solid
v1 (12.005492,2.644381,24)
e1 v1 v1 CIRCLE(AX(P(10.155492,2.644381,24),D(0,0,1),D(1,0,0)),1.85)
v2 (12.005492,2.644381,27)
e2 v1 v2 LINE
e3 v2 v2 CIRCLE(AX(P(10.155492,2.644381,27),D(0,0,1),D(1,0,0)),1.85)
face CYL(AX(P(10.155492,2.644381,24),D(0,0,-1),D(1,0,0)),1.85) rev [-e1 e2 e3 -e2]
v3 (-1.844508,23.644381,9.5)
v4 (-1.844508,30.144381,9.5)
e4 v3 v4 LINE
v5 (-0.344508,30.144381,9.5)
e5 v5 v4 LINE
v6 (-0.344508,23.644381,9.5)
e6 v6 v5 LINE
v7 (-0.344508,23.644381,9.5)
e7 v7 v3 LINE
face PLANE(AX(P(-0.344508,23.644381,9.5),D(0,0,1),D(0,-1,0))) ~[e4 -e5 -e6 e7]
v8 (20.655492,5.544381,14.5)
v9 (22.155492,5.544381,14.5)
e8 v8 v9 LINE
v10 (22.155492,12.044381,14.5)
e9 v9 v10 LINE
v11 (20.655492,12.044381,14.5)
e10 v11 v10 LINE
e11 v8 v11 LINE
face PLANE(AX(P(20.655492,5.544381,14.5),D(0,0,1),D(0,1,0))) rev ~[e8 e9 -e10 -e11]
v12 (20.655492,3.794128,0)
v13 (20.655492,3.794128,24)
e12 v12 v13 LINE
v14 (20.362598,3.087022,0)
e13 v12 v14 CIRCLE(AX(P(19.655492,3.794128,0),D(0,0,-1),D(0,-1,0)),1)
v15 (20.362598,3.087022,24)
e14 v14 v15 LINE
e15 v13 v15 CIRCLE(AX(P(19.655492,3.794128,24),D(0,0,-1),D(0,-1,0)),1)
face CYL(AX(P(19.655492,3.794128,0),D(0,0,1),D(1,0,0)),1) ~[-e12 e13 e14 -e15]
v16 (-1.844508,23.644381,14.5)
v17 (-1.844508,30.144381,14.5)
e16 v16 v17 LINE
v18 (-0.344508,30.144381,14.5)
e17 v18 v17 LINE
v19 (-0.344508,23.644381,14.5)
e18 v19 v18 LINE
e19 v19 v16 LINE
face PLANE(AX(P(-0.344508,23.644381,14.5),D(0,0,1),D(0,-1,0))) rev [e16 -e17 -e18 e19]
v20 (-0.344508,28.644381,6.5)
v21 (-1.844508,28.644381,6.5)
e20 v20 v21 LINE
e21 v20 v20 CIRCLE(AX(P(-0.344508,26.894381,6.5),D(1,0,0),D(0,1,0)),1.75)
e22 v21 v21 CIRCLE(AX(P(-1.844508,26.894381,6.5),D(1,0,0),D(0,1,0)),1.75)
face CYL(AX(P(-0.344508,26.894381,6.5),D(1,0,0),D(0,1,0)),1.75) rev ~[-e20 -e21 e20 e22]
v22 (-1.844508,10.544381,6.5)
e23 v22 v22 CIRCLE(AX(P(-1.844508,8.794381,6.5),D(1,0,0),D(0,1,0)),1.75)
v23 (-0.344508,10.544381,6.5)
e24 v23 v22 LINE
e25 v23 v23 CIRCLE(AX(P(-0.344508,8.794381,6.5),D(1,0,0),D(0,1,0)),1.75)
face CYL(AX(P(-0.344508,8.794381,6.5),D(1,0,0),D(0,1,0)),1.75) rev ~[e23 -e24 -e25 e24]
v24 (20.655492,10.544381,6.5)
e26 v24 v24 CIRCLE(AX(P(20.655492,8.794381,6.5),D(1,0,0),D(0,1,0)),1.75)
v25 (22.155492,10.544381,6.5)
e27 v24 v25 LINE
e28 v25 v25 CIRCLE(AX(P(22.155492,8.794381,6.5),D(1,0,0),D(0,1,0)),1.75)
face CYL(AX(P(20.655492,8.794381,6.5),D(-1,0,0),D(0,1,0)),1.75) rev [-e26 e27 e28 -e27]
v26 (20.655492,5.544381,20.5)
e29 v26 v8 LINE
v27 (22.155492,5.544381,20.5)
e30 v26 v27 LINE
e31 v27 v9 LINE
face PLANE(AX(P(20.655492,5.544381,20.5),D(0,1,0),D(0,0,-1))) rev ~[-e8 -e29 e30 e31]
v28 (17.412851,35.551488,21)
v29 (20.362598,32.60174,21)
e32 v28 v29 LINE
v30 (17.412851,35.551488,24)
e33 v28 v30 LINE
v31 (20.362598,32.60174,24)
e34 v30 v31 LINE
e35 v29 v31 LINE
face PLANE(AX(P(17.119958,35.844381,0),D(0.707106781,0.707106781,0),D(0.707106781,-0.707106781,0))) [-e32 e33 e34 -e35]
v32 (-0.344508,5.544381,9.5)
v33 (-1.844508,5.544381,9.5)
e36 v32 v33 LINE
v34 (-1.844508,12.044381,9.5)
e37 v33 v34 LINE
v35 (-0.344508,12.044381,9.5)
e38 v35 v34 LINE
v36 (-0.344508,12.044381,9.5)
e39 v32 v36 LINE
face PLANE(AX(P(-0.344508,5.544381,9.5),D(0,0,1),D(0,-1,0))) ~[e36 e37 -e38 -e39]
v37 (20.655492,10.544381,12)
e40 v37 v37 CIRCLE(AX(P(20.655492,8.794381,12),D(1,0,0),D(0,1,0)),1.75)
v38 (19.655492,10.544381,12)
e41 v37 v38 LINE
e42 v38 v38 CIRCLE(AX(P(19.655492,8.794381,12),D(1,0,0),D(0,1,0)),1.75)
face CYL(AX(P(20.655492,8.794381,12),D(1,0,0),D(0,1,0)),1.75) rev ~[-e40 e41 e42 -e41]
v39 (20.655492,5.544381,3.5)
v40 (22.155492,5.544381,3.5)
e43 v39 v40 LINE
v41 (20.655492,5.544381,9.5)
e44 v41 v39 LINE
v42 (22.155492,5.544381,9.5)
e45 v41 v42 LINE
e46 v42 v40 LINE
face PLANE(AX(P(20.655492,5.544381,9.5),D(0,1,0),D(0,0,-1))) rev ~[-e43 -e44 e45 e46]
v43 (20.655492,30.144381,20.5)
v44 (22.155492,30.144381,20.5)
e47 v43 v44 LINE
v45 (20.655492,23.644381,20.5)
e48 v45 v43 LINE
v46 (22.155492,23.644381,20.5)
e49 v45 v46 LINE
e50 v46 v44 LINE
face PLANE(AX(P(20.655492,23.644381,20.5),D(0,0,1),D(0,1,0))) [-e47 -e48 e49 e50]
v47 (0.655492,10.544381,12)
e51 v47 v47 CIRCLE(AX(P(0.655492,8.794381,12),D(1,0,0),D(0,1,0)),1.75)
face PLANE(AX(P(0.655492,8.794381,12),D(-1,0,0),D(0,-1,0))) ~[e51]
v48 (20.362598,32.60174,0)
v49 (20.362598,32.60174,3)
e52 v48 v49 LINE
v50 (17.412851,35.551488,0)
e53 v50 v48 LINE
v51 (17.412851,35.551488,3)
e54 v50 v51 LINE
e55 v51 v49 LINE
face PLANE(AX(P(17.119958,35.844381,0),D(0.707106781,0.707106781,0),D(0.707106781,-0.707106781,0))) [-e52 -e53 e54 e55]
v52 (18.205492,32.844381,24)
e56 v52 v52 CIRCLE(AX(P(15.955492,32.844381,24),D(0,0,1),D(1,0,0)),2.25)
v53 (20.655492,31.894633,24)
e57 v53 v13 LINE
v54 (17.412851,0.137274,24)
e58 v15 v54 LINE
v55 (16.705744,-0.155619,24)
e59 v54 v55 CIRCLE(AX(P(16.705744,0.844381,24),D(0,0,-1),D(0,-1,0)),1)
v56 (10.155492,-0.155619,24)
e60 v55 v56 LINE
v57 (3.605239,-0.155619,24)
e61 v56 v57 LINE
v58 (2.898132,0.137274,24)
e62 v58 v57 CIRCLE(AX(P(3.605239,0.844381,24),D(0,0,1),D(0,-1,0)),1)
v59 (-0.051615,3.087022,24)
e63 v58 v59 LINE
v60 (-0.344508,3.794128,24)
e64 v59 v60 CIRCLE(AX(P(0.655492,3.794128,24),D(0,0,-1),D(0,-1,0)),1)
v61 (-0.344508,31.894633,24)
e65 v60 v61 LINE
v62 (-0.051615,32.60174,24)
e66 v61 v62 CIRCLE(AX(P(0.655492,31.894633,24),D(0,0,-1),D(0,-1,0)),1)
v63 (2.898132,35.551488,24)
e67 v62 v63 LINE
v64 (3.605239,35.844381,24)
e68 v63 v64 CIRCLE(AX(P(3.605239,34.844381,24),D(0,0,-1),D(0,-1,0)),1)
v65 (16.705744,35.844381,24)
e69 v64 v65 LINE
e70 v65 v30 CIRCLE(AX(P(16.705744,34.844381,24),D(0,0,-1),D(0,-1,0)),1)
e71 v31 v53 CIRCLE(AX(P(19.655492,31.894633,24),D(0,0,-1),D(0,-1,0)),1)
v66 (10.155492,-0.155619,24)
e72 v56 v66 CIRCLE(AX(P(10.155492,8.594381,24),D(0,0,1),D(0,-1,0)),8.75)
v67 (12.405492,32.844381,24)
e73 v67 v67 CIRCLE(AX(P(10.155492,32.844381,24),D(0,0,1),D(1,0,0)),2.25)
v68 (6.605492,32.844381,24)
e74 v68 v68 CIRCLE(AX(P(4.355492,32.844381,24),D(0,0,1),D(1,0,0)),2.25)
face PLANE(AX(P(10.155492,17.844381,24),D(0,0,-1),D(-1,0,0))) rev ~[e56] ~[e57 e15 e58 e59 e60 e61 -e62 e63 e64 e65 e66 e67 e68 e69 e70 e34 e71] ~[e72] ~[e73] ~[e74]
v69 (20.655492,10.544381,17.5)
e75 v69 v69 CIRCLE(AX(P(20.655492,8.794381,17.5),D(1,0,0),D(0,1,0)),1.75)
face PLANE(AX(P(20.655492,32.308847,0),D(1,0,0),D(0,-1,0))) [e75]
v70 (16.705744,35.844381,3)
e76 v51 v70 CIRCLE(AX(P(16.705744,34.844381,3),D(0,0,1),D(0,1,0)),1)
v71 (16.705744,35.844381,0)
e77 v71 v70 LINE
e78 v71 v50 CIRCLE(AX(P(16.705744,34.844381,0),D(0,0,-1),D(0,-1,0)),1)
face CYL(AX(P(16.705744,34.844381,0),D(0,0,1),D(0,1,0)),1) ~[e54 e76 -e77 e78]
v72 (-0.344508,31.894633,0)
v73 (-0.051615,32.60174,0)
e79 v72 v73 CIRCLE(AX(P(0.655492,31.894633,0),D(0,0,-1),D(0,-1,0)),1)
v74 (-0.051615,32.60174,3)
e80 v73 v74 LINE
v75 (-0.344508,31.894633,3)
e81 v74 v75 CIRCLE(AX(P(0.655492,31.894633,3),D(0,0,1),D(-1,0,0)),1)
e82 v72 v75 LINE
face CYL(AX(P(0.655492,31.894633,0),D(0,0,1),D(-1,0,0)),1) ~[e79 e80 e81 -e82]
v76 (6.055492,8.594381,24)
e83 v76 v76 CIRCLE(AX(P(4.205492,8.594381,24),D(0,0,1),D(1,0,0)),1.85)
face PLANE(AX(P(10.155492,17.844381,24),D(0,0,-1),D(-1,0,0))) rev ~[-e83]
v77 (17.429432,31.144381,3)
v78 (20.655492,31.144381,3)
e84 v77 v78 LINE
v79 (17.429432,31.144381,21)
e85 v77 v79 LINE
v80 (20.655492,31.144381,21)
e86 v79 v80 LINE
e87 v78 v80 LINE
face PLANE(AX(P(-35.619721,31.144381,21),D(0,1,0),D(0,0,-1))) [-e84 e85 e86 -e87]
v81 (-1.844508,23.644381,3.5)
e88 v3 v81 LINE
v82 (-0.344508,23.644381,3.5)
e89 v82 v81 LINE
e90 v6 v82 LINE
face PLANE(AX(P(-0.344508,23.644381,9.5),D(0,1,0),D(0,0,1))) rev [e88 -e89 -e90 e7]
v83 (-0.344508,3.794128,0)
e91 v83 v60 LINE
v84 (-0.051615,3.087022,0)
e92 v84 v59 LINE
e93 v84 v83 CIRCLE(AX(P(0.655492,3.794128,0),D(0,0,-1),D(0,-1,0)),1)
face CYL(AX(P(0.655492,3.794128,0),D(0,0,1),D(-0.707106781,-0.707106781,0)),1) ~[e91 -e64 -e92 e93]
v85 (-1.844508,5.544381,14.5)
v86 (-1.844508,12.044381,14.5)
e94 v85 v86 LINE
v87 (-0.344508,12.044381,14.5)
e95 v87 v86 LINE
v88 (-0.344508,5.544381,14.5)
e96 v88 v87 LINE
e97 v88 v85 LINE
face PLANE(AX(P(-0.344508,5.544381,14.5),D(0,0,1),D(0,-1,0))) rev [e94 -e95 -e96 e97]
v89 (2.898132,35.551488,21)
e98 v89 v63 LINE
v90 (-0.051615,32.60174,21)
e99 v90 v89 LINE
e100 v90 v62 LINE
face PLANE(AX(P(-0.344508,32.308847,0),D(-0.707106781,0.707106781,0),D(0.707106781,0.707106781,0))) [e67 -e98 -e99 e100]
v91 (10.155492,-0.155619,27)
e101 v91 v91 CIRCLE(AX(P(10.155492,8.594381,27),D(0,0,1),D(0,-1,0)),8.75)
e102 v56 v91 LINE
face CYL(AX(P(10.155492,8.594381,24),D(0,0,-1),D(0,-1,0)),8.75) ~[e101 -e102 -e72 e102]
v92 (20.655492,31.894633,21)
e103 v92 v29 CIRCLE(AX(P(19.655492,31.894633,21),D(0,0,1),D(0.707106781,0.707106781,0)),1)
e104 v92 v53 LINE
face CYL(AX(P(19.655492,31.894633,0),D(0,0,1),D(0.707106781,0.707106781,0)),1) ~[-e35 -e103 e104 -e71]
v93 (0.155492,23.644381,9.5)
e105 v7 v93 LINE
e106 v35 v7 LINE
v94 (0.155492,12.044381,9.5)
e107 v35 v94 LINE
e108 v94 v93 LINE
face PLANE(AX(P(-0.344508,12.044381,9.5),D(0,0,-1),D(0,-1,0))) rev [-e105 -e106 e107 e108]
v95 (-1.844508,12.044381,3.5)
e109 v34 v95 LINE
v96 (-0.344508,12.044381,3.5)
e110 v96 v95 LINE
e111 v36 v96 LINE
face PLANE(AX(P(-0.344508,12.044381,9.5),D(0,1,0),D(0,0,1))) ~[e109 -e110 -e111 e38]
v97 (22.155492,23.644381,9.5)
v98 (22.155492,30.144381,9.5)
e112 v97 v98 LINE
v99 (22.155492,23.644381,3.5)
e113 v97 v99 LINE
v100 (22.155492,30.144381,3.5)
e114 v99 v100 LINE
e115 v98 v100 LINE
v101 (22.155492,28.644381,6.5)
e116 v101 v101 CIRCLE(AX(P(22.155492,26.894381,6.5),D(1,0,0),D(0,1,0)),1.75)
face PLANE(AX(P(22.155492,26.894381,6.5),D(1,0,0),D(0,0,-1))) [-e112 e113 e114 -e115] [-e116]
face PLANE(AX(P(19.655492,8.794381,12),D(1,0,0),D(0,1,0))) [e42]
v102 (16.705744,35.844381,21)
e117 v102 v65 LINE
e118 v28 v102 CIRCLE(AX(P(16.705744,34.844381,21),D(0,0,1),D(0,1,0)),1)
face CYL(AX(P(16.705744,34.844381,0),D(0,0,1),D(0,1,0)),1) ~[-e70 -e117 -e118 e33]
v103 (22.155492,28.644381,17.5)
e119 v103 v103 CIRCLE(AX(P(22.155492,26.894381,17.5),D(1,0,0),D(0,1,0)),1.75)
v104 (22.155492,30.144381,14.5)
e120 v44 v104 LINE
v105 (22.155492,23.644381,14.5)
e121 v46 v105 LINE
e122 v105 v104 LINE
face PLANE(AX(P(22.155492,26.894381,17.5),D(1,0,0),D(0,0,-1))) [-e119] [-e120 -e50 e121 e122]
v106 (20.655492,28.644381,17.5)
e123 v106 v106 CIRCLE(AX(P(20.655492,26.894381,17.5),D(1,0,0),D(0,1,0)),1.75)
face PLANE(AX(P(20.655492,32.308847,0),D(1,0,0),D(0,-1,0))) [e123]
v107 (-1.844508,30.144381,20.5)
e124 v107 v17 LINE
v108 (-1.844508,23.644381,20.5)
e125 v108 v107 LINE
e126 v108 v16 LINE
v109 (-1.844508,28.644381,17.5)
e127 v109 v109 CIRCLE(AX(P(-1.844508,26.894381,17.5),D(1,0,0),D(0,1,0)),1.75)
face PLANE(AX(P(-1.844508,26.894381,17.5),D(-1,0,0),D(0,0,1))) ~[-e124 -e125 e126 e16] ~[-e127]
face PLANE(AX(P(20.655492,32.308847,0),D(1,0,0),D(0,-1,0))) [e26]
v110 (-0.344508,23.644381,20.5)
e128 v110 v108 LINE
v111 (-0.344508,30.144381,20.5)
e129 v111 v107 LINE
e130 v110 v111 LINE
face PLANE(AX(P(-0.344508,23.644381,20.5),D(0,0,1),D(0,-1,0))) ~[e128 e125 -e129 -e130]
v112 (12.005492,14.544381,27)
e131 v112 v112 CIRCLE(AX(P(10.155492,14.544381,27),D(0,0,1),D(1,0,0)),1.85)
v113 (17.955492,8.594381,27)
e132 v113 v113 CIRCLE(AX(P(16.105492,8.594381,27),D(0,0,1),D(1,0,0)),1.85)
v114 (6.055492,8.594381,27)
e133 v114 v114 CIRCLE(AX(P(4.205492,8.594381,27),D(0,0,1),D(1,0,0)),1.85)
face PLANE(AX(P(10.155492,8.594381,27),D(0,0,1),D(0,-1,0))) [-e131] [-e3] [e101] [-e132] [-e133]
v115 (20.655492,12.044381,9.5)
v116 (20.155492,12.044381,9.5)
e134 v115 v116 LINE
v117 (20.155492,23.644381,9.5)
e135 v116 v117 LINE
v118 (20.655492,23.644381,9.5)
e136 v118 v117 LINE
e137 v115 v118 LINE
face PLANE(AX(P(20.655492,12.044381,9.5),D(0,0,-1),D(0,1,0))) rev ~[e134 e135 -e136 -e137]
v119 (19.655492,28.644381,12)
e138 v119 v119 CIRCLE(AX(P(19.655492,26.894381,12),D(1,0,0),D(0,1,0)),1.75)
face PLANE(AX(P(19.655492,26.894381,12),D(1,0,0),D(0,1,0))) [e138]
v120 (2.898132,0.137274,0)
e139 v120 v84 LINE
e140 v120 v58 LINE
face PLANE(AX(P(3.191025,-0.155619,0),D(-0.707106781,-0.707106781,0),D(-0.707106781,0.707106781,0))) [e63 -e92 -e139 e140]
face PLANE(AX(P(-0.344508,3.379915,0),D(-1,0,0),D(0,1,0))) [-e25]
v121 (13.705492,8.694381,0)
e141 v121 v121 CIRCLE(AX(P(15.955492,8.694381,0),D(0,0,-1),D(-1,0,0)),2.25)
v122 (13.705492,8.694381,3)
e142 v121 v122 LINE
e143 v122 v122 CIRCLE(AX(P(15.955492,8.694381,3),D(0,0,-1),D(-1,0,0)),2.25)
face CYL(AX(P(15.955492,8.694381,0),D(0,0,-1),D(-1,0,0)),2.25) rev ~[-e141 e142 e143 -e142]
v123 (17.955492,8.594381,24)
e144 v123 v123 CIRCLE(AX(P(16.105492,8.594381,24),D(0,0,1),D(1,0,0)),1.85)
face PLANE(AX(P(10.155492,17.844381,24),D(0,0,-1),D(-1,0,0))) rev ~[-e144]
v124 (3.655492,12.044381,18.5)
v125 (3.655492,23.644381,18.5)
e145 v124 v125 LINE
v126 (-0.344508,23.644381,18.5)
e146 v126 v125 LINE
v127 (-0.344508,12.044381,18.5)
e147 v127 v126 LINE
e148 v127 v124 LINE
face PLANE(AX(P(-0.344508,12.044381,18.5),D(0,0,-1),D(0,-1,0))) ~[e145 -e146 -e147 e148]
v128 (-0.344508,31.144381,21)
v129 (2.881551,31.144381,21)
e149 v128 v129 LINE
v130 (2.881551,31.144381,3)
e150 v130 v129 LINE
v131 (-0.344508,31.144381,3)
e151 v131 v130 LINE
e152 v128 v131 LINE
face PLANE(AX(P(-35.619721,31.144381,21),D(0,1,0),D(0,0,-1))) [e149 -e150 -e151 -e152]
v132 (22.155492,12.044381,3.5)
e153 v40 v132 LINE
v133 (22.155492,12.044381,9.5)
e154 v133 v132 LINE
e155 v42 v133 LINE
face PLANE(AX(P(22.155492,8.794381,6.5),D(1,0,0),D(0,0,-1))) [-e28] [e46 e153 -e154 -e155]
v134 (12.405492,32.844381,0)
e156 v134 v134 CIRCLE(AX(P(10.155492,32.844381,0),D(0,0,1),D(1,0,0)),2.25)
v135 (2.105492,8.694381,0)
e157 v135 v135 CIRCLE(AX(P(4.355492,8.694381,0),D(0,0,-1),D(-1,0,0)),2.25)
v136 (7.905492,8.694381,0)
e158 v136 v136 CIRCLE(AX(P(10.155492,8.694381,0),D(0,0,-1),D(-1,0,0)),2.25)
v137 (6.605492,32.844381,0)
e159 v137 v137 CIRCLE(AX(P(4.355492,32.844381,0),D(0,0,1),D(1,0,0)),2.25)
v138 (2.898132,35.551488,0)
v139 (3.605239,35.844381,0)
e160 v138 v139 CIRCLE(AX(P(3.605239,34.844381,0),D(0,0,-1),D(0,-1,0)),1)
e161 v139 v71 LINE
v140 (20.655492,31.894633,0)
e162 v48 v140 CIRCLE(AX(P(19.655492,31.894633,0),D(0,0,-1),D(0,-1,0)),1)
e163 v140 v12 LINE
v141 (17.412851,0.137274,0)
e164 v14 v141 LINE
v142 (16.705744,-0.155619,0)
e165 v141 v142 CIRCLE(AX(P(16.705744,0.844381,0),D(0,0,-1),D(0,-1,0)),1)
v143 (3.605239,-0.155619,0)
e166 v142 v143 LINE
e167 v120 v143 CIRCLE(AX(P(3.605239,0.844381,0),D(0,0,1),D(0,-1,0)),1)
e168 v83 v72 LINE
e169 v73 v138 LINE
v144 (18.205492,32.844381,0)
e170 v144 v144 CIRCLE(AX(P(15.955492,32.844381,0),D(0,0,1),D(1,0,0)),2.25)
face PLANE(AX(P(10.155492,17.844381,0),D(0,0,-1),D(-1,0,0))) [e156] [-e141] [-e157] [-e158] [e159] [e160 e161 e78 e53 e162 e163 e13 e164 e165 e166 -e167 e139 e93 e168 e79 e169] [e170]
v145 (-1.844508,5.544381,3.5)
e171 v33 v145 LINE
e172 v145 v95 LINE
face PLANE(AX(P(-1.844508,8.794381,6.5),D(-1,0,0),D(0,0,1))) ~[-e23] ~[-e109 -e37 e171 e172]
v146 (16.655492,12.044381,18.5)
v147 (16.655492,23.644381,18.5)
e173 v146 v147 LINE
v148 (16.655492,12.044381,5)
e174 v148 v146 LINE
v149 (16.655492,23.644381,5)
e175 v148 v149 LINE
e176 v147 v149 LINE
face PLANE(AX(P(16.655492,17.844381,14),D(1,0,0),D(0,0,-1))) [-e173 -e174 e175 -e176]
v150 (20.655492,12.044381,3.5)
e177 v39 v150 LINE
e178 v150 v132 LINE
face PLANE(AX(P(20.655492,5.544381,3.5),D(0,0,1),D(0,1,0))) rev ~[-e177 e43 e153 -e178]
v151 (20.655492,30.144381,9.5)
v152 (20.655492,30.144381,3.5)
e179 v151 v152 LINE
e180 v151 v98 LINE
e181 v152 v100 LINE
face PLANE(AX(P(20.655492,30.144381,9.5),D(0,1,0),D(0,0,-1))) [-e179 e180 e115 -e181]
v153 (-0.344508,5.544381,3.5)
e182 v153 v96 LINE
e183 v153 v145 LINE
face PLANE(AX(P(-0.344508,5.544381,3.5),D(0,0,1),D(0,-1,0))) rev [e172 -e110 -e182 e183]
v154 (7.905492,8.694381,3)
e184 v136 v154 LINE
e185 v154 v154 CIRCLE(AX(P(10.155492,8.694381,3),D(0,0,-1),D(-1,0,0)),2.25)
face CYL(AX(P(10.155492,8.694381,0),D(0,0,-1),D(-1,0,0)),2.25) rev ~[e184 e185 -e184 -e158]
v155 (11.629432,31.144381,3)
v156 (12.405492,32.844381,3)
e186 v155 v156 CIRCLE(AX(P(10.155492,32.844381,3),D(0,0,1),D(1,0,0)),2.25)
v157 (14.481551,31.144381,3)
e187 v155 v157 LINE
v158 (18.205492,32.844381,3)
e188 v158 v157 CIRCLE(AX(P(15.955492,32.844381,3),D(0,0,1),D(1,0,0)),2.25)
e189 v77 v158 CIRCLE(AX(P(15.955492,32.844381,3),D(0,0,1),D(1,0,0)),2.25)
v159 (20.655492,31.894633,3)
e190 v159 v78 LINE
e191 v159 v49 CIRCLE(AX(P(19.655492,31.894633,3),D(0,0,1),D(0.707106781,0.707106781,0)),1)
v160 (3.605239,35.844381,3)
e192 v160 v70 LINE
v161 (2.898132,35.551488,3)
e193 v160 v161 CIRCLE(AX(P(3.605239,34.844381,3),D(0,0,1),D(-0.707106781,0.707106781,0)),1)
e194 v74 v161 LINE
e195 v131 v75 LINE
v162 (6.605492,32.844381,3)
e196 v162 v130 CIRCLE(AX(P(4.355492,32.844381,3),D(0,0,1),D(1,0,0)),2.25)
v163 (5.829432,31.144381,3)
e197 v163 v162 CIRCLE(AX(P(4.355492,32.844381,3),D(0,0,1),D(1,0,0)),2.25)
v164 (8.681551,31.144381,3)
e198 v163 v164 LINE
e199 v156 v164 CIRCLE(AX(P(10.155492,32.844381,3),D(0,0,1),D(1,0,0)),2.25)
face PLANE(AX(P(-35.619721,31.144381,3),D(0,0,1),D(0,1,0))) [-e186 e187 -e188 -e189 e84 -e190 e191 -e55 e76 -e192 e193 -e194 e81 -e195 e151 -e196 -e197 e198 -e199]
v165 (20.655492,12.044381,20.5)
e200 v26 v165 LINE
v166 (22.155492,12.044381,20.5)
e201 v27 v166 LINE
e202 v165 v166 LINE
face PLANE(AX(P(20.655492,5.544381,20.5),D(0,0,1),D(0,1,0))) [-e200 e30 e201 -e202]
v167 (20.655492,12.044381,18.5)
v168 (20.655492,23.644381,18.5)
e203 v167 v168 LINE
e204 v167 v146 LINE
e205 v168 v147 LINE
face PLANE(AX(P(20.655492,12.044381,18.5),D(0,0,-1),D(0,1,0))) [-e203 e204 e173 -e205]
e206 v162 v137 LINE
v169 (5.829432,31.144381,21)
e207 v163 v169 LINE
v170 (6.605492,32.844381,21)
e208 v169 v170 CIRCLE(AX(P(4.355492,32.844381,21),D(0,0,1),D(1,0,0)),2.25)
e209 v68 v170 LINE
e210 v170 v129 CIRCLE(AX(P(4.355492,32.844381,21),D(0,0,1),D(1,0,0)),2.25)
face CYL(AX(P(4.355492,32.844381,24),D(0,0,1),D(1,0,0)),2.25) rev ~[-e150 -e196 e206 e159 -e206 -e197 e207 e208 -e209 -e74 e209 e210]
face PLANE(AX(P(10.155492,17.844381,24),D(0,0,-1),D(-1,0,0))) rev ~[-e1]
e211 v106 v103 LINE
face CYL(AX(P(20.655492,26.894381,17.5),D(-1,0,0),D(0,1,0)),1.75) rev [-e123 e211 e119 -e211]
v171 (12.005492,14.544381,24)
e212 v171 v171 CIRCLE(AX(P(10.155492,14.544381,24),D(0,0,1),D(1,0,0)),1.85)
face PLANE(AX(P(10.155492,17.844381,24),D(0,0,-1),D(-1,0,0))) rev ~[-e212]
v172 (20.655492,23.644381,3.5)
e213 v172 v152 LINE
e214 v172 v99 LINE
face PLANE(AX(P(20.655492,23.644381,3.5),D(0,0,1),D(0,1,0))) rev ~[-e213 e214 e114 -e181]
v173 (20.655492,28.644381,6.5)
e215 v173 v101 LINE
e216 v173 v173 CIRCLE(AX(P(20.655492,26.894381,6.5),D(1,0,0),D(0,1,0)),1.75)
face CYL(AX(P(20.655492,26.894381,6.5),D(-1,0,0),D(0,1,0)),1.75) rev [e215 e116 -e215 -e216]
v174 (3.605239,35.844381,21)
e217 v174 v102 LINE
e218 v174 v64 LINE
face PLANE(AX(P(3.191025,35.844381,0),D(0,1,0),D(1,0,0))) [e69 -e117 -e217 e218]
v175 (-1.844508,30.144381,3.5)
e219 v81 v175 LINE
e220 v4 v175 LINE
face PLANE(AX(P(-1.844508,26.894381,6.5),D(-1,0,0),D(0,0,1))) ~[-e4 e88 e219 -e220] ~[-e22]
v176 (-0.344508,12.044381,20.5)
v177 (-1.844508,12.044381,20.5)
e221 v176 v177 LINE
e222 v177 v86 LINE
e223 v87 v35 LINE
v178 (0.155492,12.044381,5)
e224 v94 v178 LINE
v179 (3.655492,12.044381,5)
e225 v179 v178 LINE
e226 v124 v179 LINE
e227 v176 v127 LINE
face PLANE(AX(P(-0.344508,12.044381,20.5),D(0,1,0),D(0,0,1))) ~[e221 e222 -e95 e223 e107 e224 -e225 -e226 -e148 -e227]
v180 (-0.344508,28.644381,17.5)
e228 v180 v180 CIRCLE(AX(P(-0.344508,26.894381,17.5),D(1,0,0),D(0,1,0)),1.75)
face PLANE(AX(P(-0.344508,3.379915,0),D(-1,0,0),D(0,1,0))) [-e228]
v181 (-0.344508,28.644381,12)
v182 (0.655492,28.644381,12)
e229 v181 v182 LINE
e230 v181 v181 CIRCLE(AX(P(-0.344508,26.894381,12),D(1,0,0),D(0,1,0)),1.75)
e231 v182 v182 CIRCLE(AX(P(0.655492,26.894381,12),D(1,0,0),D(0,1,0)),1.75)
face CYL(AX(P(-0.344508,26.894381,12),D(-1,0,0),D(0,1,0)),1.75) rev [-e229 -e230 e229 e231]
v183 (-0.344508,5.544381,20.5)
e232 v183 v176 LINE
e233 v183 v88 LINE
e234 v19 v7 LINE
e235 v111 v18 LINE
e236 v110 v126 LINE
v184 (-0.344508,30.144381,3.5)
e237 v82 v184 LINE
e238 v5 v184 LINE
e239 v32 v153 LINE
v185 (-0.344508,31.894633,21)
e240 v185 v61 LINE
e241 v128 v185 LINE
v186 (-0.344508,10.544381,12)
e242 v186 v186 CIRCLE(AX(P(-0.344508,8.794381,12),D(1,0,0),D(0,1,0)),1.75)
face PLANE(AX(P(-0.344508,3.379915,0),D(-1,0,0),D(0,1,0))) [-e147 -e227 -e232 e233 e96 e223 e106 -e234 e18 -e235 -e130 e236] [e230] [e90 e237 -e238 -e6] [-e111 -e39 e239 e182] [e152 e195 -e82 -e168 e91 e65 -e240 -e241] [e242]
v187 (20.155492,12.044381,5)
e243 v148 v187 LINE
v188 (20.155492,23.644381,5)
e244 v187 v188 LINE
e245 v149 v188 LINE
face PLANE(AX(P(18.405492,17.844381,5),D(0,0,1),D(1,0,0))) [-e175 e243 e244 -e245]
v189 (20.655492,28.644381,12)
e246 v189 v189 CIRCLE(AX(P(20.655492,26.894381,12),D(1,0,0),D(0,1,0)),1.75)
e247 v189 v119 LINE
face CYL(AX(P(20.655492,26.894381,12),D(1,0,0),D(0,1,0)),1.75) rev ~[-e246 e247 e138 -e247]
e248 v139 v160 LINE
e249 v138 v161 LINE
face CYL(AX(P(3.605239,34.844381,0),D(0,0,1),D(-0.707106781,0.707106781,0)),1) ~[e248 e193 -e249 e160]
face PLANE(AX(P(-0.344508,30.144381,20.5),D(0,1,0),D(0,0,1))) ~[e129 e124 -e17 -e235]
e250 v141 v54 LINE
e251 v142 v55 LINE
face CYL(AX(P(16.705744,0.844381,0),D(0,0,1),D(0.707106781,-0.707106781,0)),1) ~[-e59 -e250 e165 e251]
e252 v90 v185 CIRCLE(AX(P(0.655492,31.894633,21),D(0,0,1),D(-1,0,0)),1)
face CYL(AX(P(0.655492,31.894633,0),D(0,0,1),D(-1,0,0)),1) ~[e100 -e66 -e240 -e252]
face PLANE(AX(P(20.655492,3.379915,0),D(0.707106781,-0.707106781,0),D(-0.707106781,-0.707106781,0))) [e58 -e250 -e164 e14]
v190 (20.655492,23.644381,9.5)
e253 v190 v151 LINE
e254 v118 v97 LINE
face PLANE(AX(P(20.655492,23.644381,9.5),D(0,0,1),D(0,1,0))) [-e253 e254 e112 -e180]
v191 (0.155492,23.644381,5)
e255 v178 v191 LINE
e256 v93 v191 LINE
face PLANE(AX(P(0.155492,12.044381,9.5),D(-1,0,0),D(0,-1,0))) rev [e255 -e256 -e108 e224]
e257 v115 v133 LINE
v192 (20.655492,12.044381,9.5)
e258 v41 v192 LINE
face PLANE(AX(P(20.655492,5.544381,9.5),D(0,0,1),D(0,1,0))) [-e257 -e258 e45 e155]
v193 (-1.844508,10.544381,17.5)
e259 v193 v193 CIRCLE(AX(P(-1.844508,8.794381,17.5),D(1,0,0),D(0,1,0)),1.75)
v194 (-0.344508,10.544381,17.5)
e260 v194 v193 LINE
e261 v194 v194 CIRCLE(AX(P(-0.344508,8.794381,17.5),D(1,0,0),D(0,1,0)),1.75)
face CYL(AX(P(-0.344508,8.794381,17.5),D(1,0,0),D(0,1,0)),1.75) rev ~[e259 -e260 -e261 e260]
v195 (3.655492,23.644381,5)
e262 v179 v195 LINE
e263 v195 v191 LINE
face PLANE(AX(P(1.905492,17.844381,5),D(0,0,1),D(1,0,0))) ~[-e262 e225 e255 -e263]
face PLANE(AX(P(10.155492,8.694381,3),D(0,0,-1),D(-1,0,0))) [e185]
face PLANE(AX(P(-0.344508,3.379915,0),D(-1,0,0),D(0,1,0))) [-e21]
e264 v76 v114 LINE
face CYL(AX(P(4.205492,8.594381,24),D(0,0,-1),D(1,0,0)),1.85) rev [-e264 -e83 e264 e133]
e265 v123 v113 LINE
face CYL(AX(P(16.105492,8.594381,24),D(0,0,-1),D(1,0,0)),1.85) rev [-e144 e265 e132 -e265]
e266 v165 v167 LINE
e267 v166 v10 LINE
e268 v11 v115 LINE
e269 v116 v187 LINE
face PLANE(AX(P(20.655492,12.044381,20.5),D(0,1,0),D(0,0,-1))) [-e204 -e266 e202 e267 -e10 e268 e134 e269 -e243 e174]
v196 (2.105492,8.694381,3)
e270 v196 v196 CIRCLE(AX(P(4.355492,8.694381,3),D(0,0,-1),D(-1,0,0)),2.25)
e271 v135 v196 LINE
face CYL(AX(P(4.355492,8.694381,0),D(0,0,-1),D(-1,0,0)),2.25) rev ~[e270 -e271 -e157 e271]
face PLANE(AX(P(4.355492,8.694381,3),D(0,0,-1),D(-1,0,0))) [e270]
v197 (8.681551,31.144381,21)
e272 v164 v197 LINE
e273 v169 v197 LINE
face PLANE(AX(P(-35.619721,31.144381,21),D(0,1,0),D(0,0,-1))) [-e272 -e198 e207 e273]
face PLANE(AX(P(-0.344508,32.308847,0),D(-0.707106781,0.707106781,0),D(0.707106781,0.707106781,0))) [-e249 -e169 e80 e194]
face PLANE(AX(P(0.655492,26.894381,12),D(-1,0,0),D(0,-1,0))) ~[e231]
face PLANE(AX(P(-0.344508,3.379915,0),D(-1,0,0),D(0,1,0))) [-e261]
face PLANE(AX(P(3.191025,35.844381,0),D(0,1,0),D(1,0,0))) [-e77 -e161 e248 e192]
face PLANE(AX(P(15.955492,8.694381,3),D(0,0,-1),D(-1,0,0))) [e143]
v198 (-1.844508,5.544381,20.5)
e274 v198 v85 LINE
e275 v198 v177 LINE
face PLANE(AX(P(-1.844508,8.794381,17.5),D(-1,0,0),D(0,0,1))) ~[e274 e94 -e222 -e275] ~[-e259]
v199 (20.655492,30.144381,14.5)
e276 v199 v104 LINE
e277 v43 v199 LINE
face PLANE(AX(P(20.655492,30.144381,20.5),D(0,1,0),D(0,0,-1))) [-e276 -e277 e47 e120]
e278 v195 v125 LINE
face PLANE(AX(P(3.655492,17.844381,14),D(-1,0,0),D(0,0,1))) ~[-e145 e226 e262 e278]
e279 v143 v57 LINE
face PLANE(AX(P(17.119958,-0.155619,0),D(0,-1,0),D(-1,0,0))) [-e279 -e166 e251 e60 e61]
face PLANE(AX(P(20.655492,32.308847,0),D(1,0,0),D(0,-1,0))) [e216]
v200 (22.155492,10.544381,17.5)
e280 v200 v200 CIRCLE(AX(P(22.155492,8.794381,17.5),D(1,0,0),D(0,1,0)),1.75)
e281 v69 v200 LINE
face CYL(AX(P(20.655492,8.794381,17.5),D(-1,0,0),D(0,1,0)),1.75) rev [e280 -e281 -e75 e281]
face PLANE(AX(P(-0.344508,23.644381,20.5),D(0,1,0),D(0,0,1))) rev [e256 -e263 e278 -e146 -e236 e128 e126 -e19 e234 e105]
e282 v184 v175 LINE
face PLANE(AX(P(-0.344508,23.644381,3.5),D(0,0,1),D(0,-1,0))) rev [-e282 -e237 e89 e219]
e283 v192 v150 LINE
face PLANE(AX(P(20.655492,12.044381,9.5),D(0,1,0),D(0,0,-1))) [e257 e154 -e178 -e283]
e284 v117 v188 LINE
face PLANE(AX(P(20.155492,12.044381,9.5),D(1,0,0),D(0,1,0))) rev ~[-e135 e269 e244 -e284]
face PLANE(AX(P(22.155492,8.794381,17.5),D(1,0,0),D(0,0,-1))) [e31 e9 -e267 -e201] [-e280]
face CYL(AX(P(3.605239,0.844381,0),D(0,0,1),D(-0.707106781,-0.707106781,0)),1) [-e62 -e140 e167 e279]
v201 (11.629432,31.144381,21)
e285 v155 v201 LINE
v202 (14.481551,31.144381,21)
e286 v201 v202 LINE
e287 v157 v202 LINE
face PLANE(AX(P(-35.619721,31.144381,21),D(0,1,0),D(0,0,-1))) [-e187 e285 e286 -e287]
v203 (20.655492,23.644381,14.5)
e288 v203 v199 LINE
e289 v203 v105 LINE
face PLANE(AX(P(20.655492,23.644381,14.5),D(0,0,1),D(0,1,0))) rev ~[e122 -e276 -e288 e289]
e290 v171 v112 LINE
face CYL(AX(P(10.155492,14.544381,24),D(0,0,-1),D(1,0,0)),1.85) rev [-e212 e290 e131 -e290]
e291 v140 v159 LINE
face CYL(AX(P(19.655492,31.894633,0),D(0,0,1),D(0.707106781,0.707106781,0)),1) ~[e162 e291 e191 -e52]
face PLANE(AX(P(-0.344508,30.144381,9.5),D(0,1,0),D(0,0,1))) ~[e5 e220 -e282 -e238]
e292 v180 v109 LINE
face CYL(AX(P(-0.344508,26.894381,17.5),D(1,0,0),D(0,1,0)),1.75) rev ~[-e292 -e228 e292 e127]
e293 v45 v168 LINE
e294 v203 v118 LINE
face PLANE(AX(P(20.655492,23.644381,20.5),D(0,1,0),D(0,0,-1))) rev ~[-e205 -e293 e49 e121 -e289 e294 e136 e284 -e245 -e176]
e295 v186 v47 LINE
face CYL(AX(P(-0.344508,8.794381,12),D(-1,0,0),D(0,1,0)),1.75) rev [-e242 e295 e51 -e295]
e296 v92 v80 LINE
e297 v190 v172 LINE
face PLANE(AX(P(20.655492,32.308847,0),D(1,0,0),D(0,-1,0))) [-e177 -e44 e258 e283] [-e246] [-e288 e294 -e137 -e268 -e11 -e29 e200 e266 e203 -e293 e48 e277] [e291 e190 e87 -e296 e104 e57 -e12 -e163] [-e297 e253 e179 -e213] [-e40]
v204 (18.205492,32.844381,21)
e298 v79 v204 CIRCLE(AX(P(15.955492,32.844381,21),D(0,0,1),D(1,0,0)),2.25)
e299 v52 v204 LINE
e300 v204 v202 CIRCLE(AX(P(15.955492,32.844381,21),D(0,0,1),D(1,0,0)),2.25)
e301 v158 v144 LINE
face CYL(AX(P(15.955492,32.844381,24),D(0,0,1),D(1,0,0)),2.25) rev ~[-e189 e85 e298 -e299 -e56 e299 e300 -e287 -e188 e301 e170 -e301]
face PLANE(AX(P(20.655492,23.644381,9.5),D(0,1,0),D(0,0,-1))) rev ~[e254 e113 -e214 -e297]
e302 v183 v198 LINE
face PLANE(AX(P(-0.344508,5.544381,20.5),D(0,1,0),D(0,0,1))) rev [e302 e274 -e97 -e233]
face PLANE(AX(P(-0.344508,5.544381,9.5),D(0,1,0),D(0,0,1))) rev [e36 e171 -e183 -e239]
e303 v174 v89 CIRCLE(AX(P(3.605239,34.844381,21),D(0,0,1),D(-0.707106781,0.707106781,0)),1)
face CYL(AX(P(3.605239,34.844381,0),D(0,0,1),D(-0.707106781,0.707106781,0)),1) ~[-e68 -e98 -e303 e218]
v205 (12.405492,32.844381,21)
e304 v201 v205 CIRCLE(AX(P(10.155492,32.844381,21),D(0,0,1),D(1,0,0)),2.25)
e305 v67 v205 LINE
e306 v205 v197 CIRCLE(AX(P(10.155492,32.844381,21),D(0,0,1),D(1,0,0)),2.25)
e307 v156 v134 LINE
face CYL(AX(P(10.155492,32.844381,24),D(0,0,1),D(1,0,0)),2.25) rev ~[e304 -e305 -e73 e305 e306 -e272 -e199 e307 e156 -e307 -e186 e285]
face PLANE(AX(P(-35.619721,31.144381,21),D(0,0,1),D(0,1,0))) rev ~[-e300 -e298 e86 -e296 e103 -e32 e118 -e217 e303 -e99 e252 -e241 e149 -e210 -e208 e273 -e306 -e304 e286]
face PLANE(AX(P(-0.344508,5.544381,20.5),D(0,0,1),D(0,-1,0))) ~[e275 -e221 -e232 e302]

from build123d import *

# Parameters (mm, degrees)
BOSS_EXTRU_1_DEPTH           = 24
CONG_1_R                     = 1
ESQUISSE2_W                  = 6
ESQUISSE2_H                  = 6.5
ESQUISSE2_R                  = 1.75
BOSS_EXTRU_2_DEPTH           = 1.5
ENL_V_MAT_EXTRU_1_DEPTH      = 45.775212404
ENL_V_MAT_EXTRU_1_DEPTH_BACK = 45.775212404
ESQUISSE4_W                  = 18
ESQUISSE4_H                  = 4.7
ESQUISSE5_R                  = 2.25
ENL_V_MAT_EXTRU_2_DEPTH      = 49.494179566
ESQUISSE6_W                  = 9
ESQUISSE6_H                  = 11.6
ENL_V_MAT_EXTRU_3_DEPTH      = 4
ESQUISSE7_R                  = 1.75
ENL_V_MAT_EXTRU_4_DEPTH      = 1
ESQUISSE8_R                  = 8.75
ESQUISSE8_R_2                = 1.85
BOSS_EXTRU_3_DEPTH           = 3
ESQUISSE9_W                  = 3.5
ESQUISSE9_H                  = 11.6
ENL_V_MAT_EXTRU_5_DEPTH      = 4.5
ESQUISSE10_R                 = 2.25
ENL_V_MAT_EXTRU_6_DEPTH      = 3


with BuildPart() as part:
    # Esquisse1 → Boss.-Extru.1 (new body)
    with BuildSketch(Plane.XY):
        Polygon((3.191025459, -0.155619048), (-0.344508447, 3.379914858), (-0.344508447, 32.308847046), (3.191025459, 35.844380952), (17.119957647, 35.844380952), (20.655491553, 32.308847046), (20.655491553, 3.379914858), (17.119957647, -0.155619048), align=None)
    extrude(amount=BOSS_EXTRU_1_DEPTH)

    # Congé1
    cong_1_edges = [part.edges().sort_by_distance(p)[0] for p in [
        (3.191025459, -0.155619048, 12),
        (-0.344508447, 3.379914858, 12),
        (-0.344508447, 32.308847046, 12),
        (3.191025459, 35.844380952, 12),
        (17.119957647, 35.844380952, 12),
        (20.655491553, 32.308847046, 12),
        (20.655491553, 3.379914858, 12),
        (17.119957647, -0.155619048, 12),
    ]]
    fillet(cong_1_edges, radius=CONG_1_R)

    # Esquisse2 → Boss.-Extru.2 (add)
    # profile 1 of 4: a face of its own
    with BuildSketch(Plane(origin=(20.655491553, 0, 0), x_dir=(0, 0, -1), z_dir=(1, 0, 0))):
        with Locations((-17.5, 8.794380952)):
            Rectangle(ESQUISSE2_W, ESQUISSE2_H)
        with Locations(Location((-17.5, 8.794380952, 0), (0, 0, 90))):
            Circle(ESQUISSE2_R, mode=Mode.SUBTRACT)
    # profile 2 of 4: a face of its own
    with BuildSketch(Plane(origin=(20.655491553, 0, 0), x_dir=(0, 0, -1), z_dir=(1, 0, 0))):
        with Locations((-6.5, 8.794380952)):
            Rectangle(ESQUISSE2_W, ESQUISSE2_H)
        with Locations(Location((-6.5, 8.794380952, 0), (0, 0, 90))):
            Circle(ESQUISSE2_R, mode=Mode.SUBTRACT)
    # profile 3 of 4: a face of its own
    with BuildSketch(Plane(origin=(20.655491553, 0, 0), x_dir=(0, 0, -1), z_dir=(1, 0, 0))):
        with Locations((-17.5, 26.894380952)):
            Rectangle(ESQUISSE2_W, ESQUISSE2_H)
        with Locations(Location((-17.5, 26.894380952, 0), (0, 0, 90))):
            Circle(ESQUISSE2_R, mode=Mode.SUBTRACT)
    # profile 4 of 4: a face of its own
    with BuildSketch(Plane(origin=(20.655491553, 0, 0), x_dir=(0, 0, -1), z_dir=(1, 0, 0))):
        with Locations((-6.5, 26.894380952)):
            Rectangle(ESQUISSE2_W, ESQUISSE2_H)
        with Locations(Location((-6.5, 26.894380952, 0), (0, 0, 90))):
            Circle(ESQUISSE2_R, mode=Mode.SUBTRACT)
    boss_extru_2 = extrude(amount=BOSS_EXTRU_2_DEPTH)

    # Symétrie1: Boss.-Extru.2 across plane
    add(boss_extru_2.mirror(Plane(origin=(10.155491553, 0, 0), x_dir=(0, 0, 1), z_dir=(1, 0, 0))))

    # Esquisse4 → Enlèv. mat.-Extru.1 (cut, two sides: drawn at the far end of the back side and taken through both)
    with BuildSketch(Plane(origin=(10.155491553, 0, 0), x_dir=(0, 0, -1), z_dir=(1, 0, 0)).offset(-ENL_V_MAT_EXTRU_1_DEPTH_BACK)):
        with Locations((-12, 33.494380952)):
            Rectangle(ESQUISSE4_W, ESQUISSE4_H)
    extrude(amount=ENL_V_MAT_EXTRU_1_DEPTH + ENL_V_MAT_EXTRU_1_DEPTH_BACK, mode=Mode.SUBTRACT)

    # Esquisse5 → Enlèv. mat.-Extru.2 (cut, through all)
    with BuildSketch(Plane.XY.offset(24)):
        with Locations((4.355491553, 32.844380952)):
            Circle(ESQUISSE5_R)
        with Locations((10.155491553, 32.844380952)):
            Circle(ESQUISSE5_R)
        with Locations((15.955491553, 32.844380952)):
            Circle(ESQUISSE5_R)
    extrude(amount=-ENL_V_MAT_EXTRU_2_DEPTH, mode=Mode.SUBTRACT)

    # Esquisse6 → Enlèv. mat.-Extru.3 (cut)
    with BuildSketch(Plane(origin=(20.655491553, 0, 0), x_dir=(0, 0, -1), z_dir=(1, 0, 0))):
        with Locations((-14, 17.844380952)):
            Rectangle(ESQUISSE6_W, ESQUISSE6_H)
    enl_v_mat_extru_3 = extrude(amount=-ENL_V_MAT_EXTRU_3_DEPTH, mode=Mode.SUBTRACT)

    # Symétrie2: Enlèv. mat.-Extru.3 across plane
    add(enl_v_mat_extru_3.mirror(Plane(origin=(10.155491553, 0, 0), x_dir=(0, 0, 1), z_dir=(1, 0, 0))), mode=Mode.SUBTRACT)

    # Esquisse7 → Enlèv. mat.-Extru.4 (cut)
    with BuildSketch(Plane(origin=(20.655491553, 0, 0), x_dir=(0, 0, -1), z_dir=(1, 0, 0))):
        with Locations(Location((-12, 8.794380952, 0), (0, 0, 90))):
            Circle(ESQUISSE7_R)
        with Locations(Location((-12, 26.894380952, 0), (0, 0, 90))):
            Circle(ESQUISSE7_R)
    enl_v_mat_extru_4 = extrude(amount=-ENL_V_MAT_EXTRU_4_DEPTH, mode=Mode.SUBTRACT)

    # Symétrie3: Enlèv. mat.-Extru.4 across plane
    add(enl_v_mat_extru_4.mirror(Plane(origin=(10.155491553, 0, 0), x_dir=(0, 0, 1), z_dir=(1, 0, 0))), mode=Mode.SUBTRACT)

    # Esquisse8 → Boss.-Extru.3 (add)
    with BuildSketch(Plane.XY.offset(24)):
        with Locations(Location((10.155491553, 8.594380952, 0), (0, 0, 270))):
            Circle(ESQUISSE8_R)
        with Locations((10.155491553, 2.644380952)):
            Circle(ESQUISSE8_R_2, mode=Mode.SUBTRACT)
        with Locations((4.205491553, 8.594380952)):
            Circle(ESQUISSE8_R_2, mode=Mode.SUBTRACT)
        with Locations((10.155491553, 14.544380952)):
            Circle(ESQUISSE8_R_2, mode=Mode.SUBTRACT)
        with Locations((16.105491553, 8.594380952)):
            Circle(ESQUISSE8_R_2, mode=Mode.SUBTRACT)
    extrude(amount=BOSS_EXTRU_3_DEPTH)

    # Esquisse9 → Enlèv. mat.-Extru.5 (cut)
    with BuildSketch(Plane.XY.offset(9.5)):
        with Locations((18.405491553, 17.844380952)):
            Rectangle(ESQUISSE9_W, ESQUISSE9_H)
    enl_v_mat_extru_5 = extrude(amount=-ENL_V_MAT_EXTRU_5_DEPTH, mode=Mode.SUBTRACT)

    # Symétrie4: Enlèv. mat.-Extru.5 across plane
    add(enl_v_mat_extru_5.mirror(Plane(origin=(10.155491553, 0, 0), x_dir=(0, 0, 1), z_dir=(1, 0, 0))), mode=Mode.SUBTRACT)

    # Esquisse10 → Enlèv. mat.-Extru.6 (cut)
    with BuildSketch(Plane(origin=(0, 0, 0), x_dir=(-1, 0, 0), z_dir=(0, 0, -1))):
        with Locations((-10.155491553, 8.694380952)):
            Circle(ESQUISSE10_R)
        with Locations((-15.955491553, 8.694380952)):
            Circle(ESQUISSE10_R)
        with Locations((-4.355491553, 8.694380952)):
            Circle(ESQUISSE10_R)
    extrude(amount=-ENL_V_MAT_EXTRU_6_DEPTH, mode=Mode.SUBTRACT)


solid = part.part
